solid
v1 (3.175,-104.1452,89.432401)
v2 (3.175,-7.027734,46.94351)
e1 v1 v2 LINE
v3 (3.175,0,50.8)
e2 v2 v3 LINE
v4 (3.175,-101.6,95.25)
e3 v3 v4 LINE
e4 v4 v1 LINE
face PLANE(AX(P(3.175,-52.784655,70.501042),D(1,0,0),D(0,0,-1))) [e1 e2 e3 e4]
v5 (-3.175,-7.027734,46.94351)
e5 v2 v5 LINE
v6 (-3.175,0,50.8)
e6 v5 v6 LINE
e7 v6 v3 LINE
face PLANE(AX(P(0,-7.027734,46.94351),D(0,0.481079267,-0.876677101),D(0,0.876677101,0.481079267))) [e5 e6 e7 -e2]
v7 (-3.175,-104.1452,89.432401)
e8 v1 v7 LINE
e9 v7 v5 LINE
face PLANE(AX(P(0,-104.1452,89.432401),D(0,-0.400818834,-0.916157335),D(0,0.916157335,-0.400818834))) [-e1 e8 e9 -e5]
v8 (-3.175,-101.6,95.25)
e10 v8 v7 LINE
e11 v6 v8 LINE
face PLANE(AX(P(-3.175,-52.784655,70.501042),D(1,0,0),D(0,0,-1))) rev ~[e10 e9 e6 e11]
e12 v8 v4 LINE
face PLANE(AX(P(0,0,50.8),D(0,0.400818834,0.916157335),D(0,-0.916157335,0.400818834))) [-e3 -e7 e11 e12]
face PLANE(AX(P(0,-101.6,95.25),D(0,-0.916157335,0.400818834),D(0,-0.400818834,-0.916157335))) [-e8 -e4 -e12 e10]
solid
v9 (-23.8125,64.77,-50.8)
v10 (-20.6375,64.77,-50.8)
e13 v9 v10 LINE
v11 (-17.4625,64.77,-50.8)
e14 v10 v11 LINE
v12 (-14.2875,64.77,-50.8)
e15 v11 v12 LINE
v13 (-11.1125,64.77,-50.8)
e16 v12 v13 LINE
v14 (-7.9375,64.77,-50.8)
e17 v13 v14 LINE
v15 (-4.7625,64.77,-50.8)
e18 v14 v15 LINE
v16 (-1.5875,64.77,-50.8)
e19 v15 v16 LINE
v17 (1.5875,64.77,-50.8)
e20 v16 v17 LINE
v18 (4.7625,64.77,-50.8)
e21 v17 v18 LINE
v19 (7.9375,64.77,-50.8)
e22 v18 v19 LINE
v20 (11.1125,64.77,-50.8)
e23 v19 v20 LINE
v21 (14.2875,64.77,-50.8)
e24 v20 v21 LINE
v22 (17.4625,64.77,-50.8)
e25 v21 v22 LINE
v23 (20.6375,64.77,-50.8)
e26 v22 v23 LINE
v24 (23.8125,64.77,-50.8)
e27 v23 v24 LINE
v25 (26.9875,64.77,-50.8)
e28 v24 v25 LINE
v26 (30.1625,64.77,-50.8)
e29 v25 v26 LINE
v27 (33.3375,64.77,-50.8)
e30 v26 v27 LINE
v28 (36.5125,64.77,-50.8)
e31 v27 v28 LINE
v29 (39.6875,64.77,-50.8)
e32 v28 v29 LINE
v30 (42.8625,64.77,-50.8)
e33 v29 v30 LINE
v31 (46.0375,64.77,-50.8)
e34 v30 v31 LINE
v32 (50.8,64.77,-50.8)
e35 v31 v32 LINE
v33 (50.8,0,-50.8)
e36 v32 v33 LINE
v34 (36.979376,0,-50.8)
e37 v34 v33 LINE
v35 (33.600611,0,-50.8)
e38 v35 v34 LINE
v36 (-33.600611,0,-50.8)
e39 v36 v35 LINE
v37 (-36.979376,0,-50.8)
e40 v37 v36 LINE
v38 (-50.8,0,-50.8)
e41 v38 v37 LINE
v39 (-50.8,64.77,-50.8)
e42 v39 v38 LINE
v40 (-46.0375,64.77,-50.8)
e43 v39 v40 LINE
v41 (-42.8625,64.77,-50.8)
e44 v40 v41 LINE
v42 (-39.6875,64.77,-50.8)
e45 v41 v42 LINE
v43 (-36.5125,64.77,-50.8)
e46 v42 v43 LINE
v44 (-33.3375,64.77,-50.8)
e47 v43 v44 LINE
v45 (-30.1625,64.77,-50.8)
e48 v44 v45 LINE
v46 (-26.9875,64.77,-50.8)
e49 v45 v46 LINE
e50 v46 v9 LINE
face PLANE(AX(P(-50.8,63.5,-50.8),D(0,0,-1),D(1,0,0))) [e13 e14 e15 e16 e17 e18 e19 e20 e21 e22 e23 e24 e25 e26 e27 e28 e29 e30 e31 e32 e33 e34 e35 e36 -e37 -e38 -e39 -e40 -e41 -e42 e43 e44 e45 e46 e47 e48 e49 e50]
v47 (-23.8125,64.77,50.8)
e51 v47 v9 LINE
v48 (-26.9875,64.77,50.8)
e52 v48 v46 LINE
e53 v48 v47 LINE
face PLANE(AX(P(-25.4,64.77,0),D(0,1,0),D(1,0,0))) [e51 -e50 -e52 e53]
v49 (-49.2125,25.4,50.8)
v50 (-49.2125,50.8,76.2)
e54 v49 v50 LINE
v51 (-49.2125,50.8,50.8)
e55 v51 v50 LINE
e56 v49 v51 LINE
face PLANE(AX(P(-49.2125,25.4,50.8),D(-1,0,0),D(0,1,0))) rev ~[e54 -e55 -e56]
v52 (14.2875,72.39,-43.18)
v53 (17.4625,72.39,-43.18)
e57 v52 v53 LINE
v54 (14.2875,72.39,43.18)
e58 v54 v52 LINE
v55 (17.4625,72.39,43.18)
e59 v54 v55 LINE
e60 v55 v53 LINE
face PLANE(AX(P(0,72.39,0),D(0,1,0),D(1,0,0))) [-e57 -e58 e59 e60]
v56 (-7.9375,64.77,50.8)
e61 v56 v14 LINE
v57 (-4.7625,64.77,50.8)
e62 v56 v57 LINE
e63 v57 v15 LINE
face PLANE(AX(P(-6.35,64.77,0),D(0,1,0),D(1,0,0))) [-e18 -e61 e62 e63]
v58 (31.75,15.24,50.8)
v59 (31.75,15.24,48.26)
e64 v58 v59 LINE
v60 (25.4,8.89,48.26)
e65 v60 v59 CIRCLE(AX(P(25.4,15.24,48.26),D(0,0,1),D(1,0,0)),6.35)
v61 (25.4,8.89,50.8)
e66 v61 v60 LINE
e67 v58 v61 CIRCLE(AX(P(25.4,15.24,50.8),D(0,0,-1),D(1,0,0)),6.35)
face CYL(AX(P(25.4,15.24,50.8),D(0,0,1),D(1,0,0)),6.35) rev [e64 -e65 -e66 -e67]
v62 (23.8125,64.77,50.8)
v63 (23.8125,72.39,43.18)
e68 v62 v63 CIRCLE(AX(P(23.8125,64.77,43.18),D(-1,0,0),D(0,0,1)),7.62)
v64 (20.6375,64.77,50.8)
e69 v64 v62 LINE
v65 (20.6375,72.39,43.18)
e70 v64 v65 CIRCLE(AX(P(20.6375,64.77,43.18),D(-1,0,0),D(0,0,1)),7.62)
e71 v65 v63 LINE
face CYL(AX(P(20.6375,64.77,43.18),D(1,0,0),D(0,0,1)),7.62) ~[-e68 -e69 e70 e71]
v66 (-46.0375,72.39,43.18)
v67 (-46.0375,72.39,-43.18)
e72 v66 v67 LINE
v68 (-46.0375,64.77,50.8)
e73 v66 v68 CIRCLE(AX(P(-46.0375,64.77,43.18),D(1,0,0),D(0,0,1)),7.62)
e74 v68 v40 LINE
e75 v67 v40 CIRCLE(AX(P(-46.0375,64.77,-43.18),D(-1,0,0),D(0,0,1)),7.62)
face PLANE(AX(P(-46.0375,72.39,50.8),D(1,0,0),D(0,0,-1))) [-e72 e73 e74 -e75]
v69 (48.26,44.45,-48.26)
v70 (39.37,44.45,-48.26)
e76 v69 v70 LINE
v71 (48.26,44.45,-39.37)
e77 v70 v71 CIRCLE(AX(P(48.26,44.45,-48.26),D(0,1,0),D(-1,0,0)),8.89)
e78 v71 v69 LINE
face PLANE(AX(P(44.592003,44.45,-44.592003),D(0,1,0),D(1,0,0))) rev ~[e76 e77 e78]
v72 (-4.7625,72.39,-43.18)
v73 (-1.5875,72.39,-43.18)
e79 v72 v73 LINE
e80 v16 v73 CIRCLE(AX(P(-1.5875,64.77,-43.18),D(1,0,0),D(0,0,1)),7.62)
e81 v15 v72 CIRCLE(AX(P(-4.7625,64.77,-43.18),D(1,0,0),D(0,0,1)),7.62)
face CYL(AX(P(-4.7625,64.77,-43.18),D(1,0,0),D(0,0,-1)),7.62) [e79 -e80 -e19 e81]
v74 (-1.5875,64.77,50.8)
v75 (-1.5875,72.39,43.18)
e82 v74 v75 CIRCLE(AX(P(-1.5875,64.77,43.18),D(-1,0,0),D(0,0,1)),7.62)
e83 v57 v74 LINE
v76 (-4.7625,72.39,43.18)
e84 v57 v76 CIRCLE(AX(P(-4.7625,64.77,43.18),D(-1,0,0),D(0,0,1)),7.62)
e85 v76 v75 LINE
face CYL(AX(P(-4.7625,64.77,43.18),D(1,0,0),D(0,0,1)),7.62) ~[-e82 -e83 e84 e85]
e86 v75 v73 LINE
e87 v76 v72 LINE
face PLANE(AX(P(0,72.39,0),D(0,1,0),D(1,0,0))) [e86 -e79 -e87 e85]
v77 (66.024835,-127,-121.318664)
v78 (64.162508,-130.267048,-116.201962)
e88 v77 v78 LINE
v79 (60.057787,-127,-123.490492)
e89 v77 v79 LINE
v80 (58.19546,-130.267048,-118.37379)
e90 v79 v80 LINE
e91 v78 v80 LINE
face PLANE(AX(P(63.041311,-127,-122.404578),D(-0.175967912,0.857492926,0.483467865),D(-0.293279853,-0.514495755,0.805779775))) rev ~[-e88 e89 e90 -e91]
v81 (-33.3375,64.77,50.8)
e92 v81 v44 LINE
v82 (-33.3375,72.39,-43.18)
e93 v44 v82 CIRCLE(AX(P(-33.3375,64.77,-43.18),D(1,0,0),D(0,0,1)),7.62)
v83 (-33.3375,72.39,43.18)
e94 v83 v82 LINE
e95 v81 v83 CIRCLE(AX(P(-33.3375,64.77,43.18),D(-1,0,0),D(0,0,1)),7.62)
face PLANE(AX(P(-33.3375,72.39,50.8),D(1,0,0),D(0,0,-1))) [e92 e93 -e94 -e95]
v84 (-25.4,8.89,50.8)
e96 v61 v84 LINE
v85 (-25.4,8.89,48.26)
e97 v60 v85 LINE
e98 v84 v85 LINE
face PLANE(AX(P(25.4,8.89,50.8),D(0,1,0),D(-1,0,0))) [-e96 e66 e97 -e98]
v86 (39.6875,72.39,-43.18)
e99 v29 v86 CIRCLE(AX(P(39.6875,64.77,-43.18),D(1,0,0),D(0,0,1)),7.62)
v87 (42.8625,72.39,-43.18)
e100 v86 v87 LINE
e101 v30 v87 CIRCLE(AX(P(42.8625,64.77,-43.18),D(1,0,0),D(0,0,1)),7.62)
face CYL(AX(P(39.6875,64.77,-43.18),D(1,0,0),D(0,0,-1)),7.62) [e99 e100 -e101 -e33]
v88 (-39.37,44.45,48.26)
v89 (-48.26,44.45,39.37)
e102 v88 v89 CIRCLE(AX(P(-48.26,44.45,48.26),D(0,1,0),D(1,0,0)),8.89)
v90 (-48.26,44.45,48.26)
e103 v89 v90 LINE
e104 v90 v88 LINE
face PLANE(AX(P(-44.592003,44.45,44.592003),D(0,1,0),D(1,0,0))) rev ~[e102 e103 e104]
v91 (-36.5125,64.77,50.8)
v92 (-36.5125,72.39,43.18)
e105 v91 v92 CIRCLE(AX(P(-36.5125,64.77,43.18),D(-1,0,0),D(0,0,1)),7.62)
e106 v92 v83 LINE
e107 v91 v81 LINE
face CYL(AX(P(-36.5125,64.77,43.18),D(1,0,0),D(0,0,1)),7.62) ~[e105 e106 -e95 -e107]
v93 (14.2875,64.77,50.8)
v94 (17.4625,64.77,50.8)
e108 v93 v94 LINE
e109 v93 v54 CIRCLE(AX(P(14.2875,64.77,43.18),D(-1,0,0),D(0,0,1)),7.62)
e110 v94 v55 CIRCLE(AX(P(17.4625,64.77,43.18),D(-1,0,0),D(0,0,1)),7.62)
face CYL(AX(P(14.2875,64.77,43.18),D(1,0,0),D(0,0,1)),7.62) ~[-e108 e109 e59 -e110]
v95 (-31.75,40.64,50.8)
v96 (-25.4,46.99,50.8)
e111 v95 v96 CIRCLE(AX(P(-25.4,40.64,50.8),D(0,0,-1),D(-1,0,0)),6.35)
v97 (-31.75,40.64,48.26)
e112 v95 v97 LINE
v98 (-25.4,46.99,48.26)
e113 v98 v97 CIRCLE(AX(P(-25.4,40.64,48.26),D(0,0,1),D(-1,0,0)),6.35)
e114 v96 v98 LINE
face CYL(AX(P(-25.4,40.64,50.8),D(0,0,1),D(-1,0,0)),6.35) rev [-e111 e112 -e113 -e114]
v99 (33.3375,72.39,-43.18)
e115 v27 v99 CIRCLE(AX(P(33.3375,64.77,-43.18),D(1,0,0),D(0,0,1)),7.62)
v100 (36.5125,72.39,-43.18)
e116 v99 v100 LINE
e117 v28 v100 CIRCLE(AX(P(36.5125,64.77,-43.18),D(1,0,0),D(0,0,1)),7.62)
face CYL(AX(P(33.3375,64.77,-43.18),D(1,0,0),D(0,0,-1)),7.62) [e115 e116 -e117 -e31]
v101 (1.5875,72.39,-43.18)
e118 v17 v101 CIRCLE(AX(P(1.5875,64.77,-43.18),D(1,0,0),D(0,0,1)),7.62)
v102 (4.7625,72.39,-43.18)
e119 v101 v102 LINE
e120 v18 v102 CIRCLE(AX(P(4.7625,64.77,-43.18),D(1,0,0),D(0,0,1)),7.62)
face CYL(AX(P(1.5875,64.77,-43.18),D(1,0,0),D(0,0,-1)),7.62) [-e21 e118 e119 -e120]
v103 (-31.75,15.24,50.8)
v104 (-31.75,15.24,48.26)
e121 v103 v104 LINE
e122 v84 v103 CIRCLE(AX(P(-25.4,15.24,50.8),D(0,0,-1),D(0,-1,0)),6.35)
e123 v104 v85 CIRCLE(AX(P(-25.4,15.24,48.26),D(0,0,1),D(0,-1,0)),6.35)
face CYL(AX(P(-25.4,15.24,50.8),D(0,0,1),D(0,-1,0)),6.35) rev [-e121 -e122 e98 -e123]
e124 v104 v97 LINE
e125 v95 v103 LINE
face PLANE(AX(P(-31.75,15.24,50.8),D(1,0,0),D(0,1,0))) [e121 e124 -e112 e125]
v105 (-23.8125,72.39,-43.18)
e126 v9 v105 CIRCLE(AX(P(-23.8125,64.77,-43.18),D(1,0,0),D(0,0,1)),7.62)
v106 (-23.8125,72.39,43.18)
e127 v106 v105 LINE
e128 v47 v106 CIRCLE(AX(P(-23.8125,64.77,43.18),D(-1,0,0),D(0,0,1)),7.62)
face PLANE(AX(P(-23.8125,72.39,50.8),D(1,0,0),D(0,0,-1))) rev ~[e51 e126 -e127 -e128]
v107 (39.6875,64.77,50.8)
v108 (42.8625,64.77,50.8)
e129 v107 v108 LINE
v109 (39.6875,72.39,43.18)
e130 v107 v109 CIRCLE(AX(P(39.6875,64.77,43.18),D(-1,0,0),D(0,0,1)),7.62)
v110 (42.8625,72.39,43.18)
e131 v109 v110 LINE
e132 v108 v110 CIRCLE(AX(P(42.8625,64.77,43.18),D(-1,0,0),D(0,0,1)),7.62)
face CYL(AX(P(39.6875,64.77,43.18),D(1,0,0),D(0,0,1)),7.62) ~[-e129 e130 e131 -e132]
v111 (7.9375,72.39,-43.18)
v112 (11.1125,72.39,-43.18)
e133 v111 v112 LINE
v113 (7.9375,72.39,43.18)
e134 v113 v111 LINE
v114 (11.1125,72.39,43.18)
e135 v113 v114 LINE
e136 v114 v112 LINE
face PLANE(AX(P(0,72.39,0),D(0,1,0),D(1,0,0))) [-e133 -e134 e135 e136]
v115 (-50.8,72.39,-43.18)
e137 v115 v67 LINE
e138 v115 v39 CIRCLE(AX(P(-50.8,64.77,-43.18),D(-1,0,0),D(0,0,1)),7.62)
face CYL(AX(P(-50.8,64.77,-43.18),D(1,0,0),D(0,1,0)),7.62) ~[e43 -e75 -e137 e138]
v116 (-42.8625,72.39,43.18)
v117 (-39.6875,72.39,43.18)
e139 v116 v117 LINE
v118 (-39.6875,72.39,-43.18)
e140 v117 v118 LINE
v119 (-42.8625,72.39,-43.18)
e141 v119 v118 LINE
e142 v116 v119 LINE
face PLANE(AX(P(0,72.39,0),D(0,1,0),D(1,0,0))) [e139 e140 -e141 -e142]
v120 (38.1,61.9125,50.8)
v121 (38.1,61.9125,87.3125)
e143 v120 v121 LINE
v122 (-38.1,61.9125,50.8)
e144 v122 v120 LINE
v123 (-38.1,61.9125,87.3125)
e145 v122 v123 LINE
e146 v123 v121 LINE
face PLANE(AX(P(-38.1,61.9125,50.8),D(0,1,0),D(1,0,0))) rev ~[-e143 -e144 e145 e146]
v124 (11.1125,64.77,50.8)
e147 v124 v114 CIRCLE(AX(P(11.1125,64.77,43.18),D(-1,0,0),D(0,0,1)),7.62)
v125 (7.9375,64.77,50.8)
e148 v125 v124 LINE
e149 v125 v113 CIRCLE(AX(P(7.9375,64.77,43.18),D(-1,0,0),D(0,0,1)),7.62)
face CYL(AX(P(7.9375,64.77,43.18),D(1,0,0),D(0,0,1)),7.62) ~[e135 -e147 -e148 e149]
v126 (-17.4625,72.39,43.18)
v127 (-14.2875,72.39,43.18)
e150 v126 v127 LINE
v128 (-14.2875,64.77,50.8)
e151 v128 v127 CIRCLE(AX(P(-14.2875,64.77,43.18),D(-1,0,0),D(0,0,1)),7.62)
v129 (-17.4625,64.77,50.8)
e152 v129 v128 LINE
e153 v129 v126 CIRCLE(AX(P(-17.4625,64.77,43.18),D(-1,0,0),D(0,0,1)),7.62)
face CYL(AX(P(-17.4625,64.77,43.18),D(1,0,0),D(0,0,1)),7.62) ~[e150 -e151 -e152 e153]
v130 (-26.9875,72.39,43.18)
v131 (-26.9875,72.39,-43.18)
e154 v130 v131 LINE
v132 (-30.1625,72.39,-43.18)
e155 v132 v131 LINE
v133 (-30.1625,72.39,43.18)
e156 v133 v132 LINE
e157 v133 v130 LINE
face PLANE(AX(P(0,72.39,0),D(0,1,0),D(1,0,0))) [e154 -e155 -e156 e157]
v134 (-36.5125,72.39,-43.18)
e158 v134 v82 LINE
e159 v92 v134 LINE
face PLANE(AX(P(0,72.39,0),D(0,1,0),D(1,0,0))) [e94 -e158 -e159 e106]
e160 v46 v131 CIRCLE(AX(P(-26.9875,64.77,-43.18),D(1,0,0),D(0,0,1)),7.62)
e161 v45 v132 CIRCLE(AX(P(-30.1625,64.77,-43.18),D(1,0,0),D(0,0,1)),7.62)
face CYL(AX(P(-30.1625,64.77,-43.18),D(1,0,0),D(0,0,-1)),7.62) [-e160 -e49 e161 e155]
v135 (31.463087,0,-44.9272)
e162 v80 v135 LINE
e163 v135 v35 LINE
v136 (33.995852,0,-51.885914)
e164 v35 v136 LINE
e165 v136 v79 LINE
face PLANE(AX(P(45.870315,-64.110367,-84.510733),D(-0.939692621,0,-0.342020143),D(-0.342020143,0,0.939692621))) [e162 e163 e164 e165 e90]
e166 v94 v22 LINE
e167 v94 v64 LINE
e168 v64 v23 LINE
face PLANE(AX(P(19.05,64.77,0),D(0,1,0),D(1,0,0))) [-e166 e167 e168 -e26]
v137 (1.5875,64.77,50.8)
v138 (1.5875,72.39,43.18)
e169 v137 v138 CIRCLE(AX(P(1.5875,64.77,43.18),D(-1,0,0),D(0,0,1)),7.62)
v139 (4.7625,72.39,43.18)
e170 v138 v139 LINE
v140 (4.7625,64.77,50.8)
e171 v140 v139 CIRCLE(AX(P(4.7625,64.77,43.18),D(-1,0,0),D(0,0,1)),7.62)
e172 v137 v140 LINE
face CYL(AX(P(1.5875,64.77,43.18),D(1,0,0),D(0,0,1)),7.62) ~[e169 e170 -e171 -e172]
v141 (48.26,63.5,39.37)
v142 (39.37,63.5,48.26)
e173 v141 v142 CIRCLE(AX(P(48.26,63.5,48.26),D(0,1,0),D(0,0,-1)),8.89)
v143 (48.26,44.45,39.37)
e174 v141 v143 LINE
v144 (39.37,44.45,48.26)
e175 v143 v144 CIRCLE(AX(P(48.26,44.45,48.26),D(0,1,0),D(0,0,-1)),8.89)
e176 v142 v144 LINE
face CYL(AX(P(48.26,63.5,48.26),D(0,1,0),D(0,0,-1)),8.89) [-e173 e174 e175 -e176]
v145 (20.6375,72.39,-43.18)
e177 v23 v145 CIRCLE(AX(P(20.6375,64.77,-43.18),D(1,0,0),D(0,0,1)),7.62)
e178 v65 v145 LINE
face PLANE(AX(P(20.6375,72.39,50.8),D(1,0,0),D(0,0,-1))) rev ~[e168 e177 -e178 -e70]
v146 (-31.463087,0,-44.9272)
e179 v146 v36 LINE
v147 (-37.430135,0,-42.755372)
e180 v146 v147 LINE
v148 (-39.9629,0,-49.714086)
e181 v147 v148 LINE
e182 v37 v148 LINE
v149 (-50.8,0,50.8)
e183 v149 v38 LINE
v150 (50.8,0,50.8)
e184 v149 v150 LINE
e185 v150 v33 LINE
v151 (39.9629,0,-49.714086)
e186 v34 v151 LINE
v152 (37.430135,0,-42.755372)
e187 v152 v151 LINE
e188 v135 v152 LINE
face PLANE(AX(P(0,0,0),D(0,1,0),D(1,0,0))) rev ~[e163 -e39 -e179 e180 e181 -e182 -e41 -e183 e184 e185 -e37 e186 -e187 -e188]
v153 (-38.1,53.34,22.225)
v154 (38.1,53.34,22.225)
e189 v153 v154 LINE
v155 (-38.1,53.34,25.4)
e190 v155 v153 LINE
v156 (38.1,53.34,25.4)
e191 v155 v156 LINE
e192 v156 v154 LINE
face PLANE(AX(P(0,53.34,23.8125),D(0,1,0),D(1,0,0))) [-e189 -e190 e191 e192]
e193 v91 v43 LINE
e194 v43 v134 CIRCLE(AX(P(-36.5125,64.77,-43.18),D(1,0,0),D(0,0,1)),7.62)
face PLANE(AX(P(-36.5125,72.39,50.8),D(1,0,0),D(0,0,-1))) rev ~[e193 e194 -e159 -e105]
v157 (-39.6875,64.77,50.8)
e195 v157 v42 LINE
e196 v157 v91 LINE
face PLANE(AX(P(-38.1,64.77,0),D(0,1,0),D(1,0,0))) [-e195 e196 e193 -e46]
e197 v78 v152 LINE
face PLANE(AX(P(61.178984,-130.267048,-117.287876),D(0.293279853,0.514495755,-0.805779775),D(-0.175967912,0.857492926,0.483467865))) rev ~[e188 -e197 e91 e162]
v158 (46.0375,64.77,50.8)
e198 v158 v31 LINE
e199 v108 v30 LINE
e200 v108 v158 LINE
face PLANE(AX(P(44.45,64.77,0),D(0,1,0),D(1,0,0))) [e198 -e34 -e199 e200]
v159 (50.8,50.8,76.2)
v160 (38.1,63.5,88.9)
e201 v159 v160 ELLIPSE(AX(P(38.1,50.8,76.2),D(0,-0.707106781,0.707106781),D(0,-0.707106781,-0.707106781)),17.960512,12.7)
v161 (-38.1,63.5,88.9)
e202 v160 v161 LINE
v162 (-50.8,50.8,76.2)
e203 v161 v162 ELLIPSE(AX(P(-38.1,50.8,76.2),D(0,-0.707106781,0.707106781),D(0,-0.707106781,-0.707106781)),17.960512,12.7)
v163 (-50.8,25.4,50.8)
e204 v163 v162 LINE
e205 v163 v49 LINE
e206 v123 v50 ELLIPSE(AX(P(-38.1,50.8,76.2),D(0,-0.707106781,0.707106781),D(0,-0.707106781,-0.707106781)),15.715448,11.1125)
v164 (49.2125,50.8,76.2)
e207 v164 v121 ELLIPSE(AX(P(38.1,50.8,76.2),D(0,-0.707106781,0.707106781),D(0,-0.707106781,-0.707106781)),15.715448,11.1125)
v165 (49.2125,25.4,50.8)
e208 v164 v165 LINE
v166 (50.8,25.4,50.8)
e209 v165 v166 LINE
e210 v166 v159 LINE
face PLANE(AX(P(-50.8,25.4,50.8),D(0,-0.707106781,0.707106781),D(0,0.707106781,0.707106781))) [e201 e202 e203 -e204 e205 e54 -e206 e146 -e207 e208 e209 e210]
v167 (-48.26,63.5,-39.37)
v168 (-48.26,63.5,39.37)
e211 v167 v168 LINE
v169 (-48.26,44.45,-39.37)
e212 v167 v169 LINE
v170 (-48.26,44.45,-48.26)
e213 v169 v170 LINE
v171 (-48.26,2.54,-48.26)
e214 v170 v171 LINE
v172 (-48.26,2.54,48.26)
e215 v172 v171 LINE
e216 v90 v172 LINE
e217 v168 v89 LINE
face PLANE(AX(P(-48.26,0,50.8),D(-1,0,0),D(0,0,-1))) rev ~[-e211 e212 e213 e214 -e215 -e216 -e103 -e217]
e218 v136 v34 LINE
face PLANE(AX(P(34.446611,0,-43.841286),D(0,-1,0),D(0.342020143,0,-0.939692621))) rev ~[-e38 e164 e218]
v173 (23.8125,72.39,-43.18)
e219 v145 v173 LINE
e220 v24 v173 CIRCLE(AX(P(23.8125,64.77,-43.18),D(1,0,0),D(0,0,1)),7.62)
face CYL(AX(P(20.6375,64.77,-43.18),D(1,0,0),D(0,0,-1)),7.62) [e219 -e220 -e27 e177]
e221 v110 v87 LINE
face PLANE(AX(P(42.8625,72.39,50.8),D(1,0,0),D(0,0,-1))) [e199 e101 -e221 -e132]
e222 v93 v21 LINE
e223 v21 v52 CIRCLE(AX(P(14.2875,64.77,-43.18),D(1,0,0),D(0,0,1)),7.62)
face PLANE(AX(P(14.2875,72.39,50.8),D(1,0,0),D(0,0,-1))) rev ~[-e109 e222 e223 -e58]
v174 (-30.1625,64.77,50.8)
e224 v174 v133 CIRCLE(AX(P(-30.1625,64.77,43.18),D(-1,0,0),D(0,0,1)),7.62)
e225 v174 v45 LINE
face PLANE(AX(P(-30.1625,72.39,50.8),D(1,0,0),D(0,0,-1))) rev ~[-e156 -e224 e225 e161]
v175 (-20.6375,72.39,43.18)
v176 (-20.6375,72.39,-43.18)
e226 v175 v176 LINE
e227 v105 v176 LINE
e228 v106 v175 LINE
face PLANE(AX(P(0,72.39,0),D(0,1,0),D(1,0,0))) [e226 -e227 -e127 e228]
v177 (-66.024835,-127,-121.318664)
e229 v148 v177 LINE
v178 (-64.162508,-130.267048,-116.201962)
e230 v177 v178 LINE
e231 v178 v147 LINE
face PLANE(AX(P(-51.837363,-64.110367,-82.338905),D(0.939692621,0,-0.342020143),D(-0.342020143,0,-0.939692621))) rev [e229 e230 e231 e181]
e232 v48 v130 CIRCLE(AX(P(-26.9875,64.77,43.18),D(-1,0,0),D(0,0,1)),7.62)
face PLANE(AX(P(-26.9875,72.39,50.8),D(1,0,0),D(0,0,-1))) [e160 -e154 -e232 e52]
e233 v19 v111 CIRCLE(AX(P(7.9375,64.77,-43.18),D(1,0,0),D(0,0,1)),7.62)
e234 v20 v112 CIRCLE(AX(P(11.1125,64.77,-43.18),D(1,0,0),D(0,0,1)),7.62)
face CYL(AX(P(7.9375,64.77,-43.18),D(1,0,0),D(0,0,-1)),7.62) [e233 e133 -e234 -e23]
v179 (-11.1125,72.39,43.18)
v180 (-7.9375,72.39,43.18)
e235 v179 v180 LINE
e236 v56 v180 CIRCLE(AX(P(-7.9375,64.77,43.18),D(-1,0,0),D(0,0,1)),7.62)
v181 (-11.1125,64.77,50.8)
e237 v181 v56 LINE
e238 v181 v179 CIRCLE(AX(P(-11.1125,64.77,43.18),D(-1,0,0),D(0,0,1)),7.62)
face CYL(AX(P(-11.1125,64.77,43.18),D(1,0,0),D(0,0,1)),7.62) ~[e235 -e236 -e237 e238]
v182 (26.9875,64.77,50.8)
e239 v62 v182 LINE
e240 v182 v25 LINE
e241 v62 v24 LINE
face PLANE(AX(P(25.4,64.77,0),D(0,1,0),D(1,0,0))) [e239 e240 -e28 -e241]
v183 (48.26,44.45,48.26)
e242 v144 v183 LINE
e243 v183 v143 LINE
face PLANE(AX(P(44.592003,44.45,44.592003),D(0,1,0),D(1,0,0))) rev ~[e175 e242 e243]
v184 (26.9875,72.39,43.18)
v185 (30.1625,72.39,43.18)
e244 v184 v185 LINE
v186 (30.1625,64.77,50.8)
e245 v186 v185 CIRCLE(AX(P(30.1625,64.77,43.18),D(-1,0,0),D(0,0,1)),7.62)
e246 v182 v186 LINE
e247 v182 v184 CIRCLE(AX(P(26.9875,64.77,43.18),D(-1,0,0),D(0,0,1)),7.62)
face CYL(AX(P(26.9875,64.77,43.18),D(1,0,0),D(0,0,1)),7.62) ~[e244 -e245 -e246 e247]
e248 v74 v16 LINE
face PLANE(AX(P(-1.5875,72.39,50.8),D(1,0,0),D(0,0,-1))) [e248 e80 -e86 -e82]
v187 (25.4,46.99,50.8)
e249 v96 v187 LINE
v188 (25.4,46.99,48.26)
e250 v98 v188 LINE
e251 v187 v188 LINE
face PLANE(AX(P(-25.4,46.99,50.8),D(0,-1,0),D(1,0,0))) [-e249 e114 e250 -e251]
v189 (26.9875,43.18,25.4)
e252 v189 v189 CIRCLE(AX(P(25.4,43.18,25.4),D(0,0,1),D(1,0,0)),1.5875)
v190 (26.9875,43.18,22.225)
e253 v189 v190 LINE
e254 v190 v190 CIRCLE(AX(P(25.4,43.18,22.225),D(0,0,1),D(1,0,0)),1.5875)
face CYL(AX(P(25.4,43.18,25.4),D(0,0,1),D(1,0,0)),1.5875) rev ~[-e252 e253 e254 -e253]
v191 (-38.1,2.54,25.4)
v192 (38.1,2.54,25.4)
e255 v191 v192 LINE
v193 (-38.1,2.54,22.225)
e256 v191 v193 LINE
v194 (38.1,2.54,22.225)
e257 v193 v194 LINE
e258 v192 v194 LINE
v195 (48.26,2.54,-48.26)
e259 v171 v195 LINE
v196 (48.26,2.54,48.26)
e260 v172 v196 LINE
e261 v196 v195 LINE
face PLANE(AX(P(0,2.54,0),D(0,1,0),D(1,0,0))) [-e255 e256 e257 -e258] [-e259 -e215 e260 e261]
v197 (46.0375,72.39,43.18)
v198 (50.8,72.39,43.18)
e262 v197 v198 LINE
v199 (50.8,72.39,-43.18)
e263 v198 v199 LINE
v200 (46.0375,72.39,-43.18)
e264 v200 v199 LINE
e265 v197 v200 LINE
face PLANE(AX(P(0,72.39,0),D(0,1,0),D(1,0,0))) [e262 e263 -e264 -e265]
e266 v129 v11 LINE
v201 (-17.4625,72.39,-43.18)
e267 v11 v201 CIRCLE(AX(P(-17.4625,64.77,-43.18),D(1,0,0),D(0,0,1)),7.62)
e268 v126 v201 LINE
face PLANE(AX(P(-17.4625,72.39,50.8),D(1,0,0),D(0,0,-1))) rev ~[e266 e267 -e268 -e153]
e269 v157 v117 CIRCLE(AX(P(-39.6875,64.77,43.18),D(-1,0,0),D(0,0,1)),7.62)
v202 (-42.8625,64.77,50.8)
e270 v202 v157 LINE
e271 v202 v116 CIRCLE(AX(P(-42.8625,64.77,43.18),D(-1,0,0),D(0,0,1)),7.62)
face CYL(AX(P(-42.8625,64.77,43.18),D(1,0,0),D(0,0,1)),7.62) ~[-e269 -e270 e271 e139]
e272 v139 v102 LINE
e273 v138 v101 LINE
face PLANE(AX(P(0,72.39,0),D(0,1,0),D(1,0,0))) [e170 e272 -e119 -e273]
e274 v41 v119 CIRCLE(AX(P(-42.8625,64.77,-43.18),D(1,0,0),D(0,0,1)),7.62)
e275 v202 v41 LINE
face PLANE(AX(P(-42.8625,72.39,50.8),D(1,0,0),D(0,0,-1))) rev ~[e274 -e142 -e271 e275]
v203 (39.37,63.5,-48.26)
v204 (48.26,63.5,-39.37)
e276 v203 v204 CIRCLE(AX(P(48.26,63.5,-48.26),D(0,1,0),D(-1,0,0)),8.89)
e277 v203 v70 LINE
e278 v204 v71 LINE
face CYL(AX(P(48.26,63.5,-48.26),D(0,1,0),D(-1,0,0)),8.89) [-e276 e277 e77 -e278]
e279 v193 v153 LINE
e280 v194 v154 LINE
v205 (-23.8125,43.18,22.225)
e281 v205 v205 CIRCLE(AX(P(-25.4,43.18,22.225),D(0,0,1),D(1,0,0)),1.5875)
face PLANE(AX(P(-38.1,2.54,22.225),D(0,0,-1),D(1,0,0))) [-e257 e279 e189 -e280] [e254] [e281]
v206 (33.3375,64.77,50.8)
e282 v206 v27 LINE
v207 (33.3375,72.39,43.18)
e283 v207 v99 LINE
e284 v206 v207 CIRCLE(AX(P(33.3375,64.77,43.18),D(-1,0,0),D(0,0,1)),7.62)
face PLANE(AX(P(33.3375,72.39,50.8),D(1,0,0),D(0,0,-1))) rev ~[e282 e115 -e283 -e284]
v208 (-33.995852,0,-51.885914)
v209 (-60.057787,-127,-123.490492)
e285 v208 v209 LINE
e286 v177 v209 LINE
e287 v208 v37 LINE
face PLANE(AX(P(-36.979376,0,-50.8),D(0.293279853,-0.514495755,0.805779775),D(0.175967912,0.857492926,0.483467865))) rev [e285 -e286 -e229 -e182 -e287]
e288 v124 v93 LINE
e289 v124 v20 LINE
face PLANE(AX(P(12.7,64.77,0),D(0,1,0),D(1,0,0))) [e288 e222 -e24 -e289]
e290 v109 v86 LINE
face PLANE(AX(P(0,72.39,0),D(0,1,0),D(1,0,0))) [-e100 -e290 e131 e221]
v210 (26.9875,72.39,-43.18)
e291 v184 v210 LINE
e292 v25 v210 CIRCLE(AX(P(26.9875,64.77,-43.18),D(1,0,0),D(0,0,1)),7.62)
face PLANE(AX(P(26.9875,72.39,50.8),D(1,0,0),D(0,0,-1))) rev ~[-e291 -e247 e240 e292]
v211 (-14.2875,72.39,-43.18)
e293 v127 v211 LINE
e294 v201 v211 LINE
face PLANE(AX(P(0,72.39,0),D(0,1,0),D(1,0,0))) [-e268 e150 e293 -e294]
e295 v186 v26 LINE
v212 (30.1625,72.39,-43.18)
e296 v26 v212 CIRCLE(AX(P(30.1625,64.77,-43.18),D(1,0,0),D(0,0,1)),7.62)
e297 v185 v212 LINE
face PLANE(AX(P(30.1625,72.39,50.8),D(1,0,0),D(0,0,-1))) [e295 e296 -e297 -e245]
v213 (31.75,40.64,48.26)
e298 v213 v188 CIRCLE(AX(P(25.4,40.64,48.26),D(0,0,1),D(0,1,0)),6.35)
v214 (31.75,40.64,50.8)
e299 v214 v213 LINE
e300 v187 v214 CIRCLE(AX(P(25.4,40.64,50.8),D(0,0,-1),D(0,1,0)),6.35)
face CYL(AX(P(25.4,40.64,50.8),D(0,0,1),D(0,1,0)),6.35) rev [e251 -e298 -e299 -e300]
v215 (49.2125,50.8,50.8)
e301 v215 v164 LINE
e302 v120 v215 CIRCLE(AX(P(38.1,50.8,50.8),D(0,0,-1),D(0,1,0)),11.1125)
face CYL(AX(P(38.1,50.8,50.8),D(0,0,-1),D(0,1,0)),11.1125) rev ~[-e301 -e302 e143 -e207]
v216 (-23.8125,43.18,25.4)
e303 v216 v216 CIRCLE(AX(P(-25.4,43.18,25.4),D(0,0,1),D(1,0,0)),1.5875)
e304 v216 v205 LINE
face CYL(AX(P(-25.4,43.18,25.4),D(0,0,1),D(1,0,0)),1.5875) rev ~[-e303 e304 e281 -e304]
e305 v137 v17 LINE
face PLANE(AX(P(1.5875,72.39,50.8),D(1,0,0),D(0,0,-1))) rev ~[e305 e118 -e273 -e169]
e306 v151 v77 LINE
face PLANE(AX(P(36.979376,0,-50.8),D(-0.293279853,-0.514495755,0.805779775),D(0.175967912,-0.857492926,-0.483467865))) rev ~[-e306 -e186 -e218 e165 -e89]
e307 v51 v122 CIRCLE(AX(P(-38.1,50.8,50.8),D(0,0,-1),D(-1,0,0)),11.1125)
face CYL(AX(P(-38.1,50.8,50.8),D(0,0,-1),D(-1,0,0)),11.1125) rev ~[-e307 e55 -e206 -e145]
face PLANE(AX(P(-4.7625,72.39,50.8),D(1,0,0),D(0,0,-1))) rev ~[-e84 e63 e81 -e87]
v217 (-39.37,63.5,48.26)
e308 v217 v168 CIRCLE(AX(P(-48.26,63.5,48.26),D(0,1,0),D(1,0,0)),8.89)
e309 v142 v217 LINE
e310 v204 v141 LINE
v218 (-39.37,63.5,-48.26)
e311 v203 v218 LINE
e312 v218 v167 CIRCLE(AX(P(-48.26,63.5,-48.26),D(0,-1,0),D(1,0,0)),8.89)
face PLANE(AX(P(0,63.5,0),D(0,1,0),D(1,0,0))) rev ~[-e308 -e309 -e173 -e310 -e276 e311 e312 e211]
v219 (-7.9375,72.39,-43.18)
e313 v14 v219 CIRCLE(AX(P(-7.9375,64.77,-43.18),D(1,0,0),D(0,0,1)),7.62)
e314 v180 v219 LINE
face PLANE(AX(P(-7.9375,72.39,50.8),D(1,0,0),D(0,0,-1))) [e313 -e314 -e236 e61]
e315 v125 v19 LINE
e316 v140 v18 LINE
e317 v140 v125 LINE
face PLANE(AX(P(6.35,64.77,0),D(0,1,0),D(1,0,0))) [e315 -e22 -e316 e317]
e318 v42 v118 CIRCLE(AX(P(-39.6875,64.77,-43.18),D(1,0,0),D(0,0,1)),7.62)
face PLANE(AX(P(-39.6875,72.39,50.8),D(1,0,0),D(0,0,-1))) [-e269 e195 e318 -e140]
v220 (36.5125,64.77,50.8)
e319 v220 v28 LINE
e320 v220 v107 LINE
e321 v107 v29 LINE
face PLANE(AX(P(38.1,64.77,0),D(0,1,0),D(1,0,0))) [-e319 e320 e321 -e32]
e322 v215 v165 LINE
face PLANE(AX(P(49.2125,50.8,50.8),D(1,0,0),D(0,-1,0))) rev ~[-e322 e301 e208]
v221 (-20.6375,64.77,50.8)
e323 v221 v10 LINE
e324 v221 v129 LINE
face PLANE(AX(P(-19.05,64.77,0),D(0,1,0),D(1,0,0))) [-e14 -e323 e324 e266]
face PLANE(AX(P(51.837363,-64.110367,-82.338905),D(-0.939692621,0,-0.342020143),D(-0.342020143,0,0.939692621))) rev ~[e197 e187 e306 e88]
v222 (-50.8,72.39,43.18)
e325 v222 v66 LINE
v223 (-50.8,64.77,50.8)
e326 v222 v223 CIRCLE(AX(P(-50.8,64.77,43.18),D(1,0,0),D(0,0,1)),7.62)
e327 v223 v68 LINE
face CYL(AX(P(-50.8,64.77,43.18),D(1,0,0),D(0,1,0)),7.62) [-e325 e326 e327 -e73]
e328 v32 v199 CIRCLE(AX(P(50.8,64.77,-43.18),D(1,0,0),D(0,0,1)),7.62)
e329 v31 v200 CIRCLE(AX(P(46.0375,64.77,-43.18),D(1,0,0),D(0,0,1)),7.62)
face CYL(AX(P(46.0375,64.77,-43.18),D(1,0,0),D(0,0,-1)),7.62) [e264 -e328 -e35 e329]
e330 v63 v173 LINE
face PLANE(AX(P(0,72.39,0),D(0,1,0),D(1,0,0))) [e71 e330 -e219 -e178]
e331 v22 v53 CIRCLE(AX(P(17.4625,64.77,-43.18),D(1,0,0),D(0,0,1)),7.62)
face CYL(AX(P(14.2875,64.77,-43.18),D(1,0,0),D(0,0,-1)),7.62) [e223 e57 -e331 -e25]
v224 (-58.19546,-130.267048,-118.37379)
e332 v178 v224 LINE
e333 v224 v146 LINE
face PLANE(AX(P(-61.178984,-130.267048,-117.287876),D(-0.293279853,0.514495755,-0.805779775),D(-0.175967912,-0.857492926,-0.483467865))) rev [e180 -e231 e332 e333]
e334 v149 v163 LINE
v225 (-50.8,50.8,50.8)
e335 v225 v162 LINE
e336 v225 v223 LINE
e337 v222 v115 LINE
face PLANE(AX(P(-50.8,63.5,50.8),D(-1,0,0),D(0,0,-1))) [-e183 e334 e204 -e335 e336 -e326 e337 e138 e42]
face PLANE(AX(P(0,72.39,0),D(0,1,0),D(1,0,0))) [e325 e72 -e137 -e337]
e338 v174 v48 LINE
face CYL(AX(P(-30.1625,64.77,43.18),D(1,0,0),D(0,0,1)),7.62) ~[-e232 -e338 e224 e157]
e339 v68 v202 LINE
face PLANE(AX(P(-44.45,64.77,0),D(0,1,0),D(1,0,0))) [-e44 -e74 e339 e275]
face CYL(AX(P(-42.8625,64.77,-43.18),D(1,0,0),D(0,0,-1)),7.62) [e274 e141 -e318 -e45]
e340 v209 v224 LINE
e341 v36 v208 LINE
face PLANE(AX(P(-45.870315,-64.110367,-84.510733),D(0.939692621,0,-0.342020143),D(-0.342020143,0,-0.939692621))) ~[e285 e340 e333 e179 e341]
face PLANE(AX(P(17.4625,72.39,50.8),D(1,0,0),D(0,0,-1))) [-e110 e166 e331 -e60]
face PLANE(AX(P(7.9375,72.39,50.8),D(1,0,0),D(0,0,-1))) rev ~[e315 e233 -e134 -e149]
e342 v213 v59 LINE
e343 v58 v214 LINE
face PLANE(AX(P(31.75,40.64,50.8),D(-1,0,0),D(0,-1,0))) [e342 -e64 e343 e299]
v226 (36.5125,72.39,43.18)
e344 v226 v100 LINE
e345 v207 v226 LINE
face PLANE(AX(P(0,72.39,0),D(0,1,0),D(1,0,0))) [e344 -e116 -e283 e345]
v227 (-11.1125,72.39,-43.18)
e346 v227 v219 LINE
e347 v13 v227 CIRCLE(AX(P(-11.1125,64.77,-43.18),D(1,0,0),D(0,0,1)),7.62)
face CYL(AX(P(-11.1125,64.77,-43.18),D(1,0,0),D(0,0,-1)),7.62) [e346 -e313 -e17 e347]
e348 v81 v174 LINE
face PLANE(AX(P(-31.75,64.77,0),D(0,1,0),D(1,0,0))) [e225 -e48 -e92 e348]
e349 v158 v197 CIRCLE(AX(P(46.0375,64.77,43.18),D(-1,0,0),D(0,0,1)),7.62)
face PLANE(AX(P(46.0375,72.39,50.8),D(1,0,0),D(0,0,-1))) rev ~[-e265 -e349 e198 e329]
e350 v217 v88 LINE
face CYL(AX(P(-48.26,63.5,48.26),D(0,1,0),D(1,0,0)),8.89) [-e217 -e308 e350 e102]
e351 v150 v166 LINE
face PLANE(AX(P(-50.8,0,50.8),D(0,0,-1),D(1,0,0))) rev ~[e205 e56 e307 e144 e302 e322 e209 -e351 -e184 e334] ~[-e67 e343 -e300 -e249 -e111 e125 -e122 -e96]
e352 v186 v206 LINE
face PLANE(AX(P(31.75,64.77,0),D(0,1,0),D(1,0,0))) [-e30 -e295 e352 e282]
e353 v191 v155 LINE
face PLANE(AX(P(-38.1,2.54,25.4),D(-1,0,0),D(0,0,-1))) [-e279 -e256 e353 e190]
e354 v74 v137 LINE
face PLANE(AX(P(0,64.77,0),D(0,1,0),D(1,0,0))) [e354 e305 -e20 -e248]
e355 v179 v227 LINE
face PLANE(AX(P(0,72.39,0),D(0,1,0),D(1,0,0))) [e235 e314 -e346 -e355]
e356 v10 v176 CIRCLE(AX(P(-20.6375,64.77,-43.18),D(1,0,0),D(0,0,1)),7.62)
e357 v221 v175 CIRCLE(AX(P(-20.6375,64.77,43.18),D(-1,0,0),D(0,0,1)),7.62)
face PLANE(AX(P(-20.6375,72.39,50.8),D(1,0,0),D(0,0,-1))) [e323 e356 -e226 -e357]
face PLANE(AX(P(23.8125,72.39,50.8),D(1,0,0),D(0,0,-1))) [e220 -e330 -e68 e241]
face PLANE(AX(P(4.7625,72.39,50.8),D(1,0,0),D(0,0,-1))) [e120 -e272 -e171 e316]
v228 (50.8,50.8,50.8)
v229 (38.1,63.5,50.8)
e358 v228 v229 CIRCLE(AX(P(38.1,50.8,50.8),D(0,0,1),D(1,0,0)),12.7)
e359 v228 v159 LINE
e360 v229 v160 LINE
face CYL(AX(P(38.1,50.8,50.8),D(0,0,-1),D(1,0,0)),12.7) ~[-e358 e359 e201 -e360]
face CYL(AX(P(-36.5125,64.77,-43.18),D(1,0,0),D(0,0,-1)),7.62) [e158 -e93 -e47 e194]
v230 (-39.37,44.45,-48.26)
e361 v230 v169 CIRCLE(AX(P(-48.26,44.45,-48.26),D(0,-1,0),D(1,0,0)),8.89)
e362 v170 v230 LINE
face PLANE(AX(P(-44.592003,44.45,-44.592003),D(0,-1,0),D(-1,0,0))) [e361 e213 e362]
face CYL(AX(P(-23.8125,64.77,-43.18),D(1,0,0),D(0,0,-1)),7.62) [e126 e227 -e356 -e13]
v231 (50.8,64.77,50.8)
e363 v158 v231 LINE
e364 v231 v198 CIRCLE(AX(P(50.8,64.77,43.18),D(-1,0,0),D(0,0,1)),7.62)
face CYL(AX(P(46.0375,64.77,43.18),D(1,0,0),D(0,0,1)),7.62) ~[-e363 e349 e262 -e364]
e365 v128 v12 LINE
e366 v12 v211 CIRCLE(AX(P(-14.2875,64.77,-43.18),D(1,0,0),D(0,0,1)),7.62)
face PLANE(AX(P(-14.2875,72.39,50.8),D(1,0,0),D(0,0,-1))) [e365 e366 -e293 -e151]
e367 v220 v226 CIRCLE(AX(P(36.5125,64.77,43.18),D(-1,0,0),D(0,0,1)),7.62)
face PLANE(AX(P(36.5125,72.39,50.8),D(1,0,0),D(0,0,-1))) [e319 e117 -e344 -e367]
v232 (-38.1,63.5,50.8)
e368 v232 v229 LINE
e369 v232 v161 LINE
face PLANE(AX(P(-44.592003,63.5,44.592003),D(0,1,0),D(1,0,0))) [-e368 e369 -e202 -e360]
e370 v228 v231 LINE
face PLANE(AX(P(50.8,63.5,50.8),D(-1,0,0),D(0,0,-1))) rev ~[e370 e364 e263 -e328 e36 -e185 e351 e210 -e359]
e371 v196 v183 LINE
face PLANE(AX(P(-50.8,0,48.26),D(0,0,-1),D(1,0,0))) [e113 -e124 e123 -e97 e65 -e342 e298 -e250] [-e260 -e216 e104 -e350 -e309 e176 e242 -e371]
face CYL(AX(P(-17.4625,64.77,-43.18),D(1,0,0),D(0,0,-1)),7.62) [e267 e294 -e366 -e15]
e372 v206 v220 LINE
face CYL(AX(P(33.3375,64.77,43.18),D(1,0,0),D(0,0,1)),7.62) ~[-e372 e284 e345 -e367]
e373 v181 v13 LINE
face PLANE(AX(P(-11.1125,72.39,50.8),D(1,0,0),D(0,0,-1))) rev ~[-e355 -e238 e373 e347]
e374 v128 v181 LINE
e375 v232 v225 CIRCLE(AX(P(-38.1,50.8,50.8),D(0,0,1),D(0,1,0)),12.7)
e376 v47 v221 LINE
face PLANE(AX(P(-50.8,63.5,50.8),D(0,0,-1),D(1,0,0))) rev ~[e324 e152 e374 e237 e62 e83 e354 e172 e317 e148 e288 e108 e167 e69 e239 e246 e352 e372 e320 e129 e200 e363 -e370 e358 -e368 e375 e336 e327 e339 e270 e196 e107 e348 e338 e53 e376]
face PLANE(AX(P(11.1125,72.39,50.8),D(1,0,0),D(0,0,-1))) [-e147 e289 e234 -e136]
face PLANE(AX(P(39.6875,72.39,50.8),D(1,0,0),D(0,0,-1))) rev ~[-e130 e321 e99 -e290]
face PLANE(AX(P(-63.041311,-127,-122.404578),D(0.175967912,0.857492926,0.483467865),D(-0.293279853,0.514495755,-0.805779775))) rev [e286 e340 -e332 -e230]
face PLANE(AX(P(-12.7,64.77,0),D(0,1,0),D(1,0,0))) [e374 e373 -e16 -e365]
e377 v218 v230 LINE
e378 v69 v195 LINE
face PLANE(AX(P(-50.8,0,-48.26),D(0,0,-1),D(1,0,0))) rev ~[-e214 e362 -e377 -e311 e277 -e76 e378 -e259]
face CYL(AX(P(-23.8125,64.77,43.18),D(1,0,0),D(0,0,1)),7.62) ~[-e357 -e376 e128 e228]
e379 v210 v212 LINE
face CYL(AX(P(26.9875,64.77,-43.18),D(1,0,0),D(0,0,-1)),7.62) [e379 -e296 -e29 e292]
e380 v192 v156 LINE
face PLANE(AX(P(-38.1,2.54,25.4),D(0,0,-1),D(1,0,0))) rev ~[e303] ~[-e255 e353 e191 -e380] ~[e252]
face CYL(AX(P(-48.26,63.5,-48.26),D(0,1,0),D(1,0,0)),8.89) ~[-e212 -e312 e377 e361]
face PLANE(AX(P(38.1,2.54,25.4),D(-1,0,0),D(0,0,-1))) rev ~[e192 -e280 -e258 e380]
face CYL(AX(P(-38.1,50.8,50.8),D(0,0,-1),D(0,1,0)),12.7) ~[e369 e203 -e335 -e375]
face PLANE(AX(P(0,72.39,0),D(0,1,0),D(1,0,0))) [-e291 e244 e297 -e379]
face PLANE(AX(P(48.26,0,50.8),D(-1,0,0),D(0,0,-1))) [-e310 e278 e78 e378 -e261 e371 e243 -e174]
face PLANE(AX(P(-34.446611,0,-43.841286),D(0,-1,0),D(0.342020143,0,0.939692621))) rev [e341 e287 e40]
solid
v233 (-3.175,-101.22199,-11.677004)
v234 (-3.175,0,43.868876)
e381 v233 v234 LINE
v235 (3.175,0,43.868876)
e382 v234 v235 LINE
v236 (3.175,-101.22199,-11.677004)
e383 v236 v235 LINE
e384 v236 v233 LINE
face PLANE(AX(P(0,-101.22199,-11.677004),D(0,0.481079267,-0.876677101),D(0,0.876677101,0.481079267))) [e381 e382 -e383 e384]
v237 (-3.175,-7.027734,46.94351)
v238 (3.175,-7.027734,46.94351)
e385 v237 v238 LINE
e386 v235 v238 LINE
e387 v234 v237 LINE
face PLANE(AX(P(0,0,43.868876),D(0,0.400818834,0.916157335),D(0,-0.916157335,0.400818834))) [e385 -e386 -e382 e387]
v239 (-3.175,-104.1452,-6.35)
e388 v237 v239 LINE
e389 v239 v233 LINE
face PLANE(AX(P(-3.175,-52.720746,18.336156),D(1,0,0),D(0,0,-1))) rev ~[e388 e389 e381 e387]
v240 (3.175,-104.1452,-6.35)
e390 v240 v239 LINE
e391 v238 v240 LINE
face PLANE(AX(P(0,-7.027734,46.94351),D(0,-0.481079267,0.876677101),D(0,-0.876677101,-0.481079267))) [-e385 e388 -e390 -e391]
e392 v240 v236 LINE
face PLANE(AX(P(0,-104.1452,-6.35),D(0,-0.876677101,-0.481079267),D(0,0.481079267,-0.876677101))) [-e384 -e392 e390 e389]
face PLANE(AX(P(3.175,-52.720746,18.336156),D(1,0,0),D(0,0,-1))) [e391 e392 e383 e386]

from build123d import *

# Parameters (mm, degrees)
SKETCH1_W             = 101.6
SKETCH1_H             = 101.6
BOSS_EXTRUDE1_DEPTH   = 63.5
SHELL1_T              = -2.54
CUT_EXTRUDE2_REACH    = 103.6
SKETCH4_W             = 76.2
SKETCH4_H             = 3.175
BOSS_EXTRUDE2_DEPTH   = 50.8
CUT_EXTRUDE3_REACH    = 78.2
SKETCH5_R             = 1.5875
BOSS_EXTRUDE3_DEPTH   = 19.05
BOSS_EXTRUDE4_DEPTH   = 38.1
CUT_EXTRUDE4_DEPTH    = 102.6
BOSS_EXTRUDE5_DEPTH   = 3.175
BOSS_EXTRUDE5_2_DEPTH = 3.175
BOSS_EXTRUDE6_DEPTH   = 3.175
SKETCH12_W            = 101.6
SKETCH12_H            = 101.6
BOSS_EXTRUDE7_DEPTH   = 8.89
SKETCH13_W            = 3.175
SKETCH13_H            = 101.6
CUT_EXTRUDE5_DEPTH    = 7.62
FILLET1_R             = 7.62


with BuildPart() as part:
    # Sketch1 → Boss-Extrude1 (new body)
    with BuildSketch(Plane(origin=(0, 0, 0), x_dir=(1, 0, 0), z_dir=(0, 1, 0))):
        Rectangle(SKETCH1_W, SKETCH1_H)
    extrude(amount=BOSS_EXTRUDE1_DEPTH)

    # Shell1
    shell1_openings = [part.faces().sort_by_distance(p)[0] for p in [
        (0, 63.5, 0),
    ]]
    offset(amount=SHELL1_T, openings=shell1_openings, kind=Kind.INTERSECTION)

    # Sketch3 → Cut-Extrude2 (cut, up to next)
    with BuildSketch(Plane.XY.offset(50.8), mode=Mode.PRIVATE) as cut_extrude2_sk1:
        with BuildLine():
            Line((-25.4, 46.99), (25.4, 46.99))
            ThreePointArc((25.4, 46.99), (29.890128061, 45.130128061), (31.75, 40.64))
            Line((31.75, 40.64), (31.75, 15.24))
            ThreePointArc((31.75, 15.24), (29.890128061, 10.749871939), (25.4, 8.89))
            Line((25.4, 8.89), (-25.4, 8.89))
            ThreePointArc((-25.4, 8.89), (-29.890128061, 10.749871939), (-31.75, 15.24))
            Line((-31.75, 15.24), (-31.75, 40.64))
            ThreePointArc((-31.75, 40.64), (-29.890128061, 45.130128061), (-25.4, 46.99))
        make_face()
    cut_extrude2_tool1 = extrude(cut_extrude2_sk1.sketch, amount=-CUT_EXTRUDE2_REACH, mode=Mode.PRIVATE) & part.part
    add(cut_extrude2_tool1.solids().sort_by_distance((0, 27.94, 50.8))[0], mode=Mode.SUBTRACT)

    # Sketch4 → Boss-Extrude2 (add)
    with BuildSketch(Plane(origin=(0, 2.54, 0), x_dir=(1, 0, 0), z_dir=(0, 1, 0))):
        with Locations((0, -23.8125)):
            Rectangle(SKETCH4_W, SKETCH4_H)
    extrude(amount=BOSS_EXTRUDE2_DEPTH)

    # Sketch5 → Cut-Extrude3 (cut, up to next)
    with BuildSketch(Plane.XY.offset(25.4), mode=Mode.PRIVATE) as cut_extrude3_sk1:
        with Locations((-25.4, 43.18)):
            Circle(SKETCH5_R)
    cut_extrude3_tool1 = extrude(cut_extrude3_sk1.sketch, amount=-CUT_EXTRUDE3_REACH, mode=Mode.PRIVATE) & part.part
    add(cut_extrude3_tool1.solids().sort_by_distance((-25.4, 43.18, 25.4))[0], mode=Mode.SUBTRACT)
    # Sketch5 → Cut-Extrude3 (cut, up to next)
    with BuildSketch(Plane.XY.offset(25.4), mode=Mode.PRIVATE) as cut_extrude3_sk2:
        with Locations((25.4, 43.18)):
            Circle(SKETCH5_R)
    cut_extrude3_tool2 = extrude(cut_extrude3_sk2.sketch, amount=-CUT_EXTRUDE3_REACH, mode=Mode.PRIVATE) & part.part
    add(cut_extrude3_tool2.solids().sort_by_distance((25.4, 43.18, 25.4))[0], mode=Mode.SUBTRACT)

    # Sketch6 → Boss-Extrude3 (add)
    with BuildSketch(Plane(origin=(0, 63.5, 0), x_dir=(1, 0, 0), z_dir=(0, 1, 0))):
        with BuildLine():
            Line((-48.26, -39.37), (-48.26, -48.26))
            Line((-48.26, -48.26), (-39.37, -48.26))
            ThreePointArc((-39.37, -48.26), (-41.973820715, -41.973820715), (-48.26, -39.37))
        make_face()
        with BuildLine():
            Line((39.37, -48.26), (48.26, -48.26))
            Line((48.26, -48.26), (48.26, -39.37))
            ThreePointArc((48.26, -39.37), (41.973820715, -41.973820715), (39.37, -48.26))
        make_face()
        with BuildLine():
            Line((48.26, 39.37), (48.26, 48.26))
            Line((48.26, 48.26), (39.37, 48.26))
            ThreePointArc((39.37, 48.26), (41.973820715, 41.973820715), (48.26, 39.37))
        make_face()
        with BuildLine():
            Line((-48.26, 39.37), (-48.26, 48.26))
            Line((-48.26, 48.26), (-39.37, 48.26))
            ThreePointArc((-39.37, 48.26), (-41.973820715, 41.973820715), (-48.26, 39.37))
        make_face()
    extrude(amount=-BOSS_EXTRUDE3_DEPTH)

    # Sketch7 → Boss-Extrude4 (add)
    with BuildSketch(Plane.XY.offset(50.8)):
        with BuildLine():
            Line((38.1, 63.5), (-38.1, 63.5))
            ThreePointArc((-38.1, 63.5), (-47.080256121, 59.780256121), (-50.8, 50.8))
            Line((-50.8, 50.8), (-50.8, 25.4))
            Line((-50.8, 25.4), (-49.2125, 25.4))
            Line((-49.2125, 25.4), (-49.2125, 50.8))
            ThreePointArc((-49.2125, 50.8), (-45.957724106, 58.657724106), (-38.1, 61.9125))
            Line((-38.1, 61.9125), (38.1, 61.9125))
            ThreePointArc((38.1, 61.9125), (45.957724106, 58.657724106), (49.2125, 50.8))
            Line((49.2125, 50.8), (49.2125, 25.4))
            Line((49.2125, 25.4), (50.8, 25.4))
            Line((50.8, 25.4), (50.8, 50.8))
            ThreePointArc((50.8, 50.8), (47.080256121, 59.780256121), (38.1, 63.5))
        make_face()
    extrude(amount=BOSS_EXTRUDE4_DEPTH)

    # Sketch8 → Cut-Extrude4 (cut, through all)
    with BuildSketch(Plane.ZY.offset(50.8)):
        Polygon((50.8, 25.4), (88.9, 63.5), (88.9, 25.4), align=None)
    extrude(amount=-CUT_EXTRUDE4_DEPTH, mode=Mode.SUBTRACT)

    # Sketch11 → Boss-Extrude6 (add, symmetric)
    with BuildSketch(Plane(origin=(16.326805286, 0, 5.942471145), x_dir=(0.342020143, 0, -0.939692621), z_dir=(0.939692621, 0, 0.342020143))):
        Polygon((60.384076548, 0), (136.584076548, -127), (131.138996469, -130.267048047), (52.978767641, 0), align=None)
    boss_extrude6 = extrude(amount=BOSS_EXTRUDE6_DEPTH, both=True)

    # Mirror1: Boss-Extrude6 across plane
    add(boss_extrude6.mirror(Plane(origin=(0, 0, 0), x_dir=(0, 0, 1), z_dir=(1, 0, 0))))

    # Sketch12 → Boss-Extrude7 (add)
    with BuildSketch(Plane(origin=(0, 63.5, 0), x_dir=(1, 0, 0), z_dir=(0, 1, 0))):
        Rectangle(SKETCH12_W, SKETCH12_H)
    extrude(amount=BOSS_EXTRUDE7_DEPTH)

    # Sketch13 → Cut-Extrude5 (cut)
    with BuildSketch(Plane(origin=(0, 72.39, 0), x_dir=(1, 0, 0), z_dir=(0, 1, 0))):
        Rectangle(SKETCH13_W, SKETCH13_H)
        with Locations((-6.35, 0)):
            Rectangle(SKETCH13_W, SKETCH13_H)
        with Locations((-12.7, 0)):
            Rectangle(SKETCH13_W, SKETCH13_H)
        with Locations((-19.05, 0)):
            Rectangle(SKETCH13_W, SKETCH13_H)
        with Locations((-25.4, 0)):
            Rectangle(SKETCH13_W, SKETCH13_H)
        with Locations((-31.75, 0)):
            Rectangle(SKETCH13_W, SKETCH13_H)
        with Locations((-38.1, 0)):
            Rectangle(SKETCH13_W, SKETCH13_H)
        with Locations((-44.45, 0)):
            Rectangle(SKETCH13_W, SKETCH13_H)
        with Locations((6.35, 0)):
            Rectangle(SKETCH13_W, SKETCH13_H)
        with Locations((12.7, 0)):
            Rectangle(SKETCH13_W, SKETCH13_H)
        with Locations((19.05, 0)):
            Rectangle(SKETCH13_W, SKETCH13_H)
        with Locations((25.4, 0)):
            Rectangle(SKETCH13_W, SKETCH13_H)
        with Locations((31.75, 0)):
            Rectangle(SKETCH13_W, SKETCH13_H)
        with Locations((38.1, 0)):
            Rectangle(SKETCH13_W, SKETCH13_H)
        with Locations((44.45, 0)):
            Rectangle(SKETCH13_W, SKETCH13_H)
    extrude(amount=-CUT_EXTRUDE5_DEPTH, mode=Mode.SUBTRACT)

    # Fillet1
    fillet1_edges = [part.edges().sort_by_distance(p)[0] for p in [
        (48.41875, 72.39, -50.8),
        (41.275, 72.39, -50.8),
        (34.925, 72.39, -50.8),
        (28.575, 72.39, -50.8),
        (22.225, 72.39, -50.8),
        (15.875, 72.39, -50.8),
        (9.525, 72.39, -50.8),
        (3.175, 72.39, -50.8),
        (-3.175, 72.39, -50.8),
        (-9.525, 72.39, -50.8),
        (-15.875, 72.39, -50.8),
        (-22.225, 72.39, -50.8),
        (-28.575, 72.39, -50.8),
        (-34.925, 72.39, -50.8),
        (-41.275, 72.39, -50.8),
        (-48.41875, 72.39, -50.8),
        (48.41875, 72.39, 50.8),
        (41.275, 72.39, 50.8),
        (34.925, 72.39, 50.8),
        (28.575, 72.39, 50.8),
        (22.225, 72.39, 50.8),
        (15.875, 72.39, 50.8),
        (9.525, 72.39, 50.8),
        (3.175, 72.39, 50.8),
        (-3.175, 72.39, 50.8),
        (-9.525, 72.39, 50.8),
        (-15.875, 72.39, 50.8),
        (-22.225, 72.39, 50.8),
        (-28.575, 72.39, 50.8),
        (-34.925, 72.39, 50.8),
        (-41.275, 72.39, 50.8),
        (-48.41875, 72.39, 50.8),
    ]]
    fillet(fillet1_edges, radius=FILLET1_R)


with BuildPart() as body_2:
    # Sketch9 → Boss-Extrude5 (new body, symmetric)
    with BuildSketch(Plane(origin=(0, 0, 0), x_dir=(0, 0, -1), z_dir=(1, 0, 0))):
        Polygon((11.677003567, -101.221989933), (-43.8688761, 0), (-46.943509518, -7.027733526), (6.35, -104.145199596), align=None)
    extrude(amount=BOSS_EXTRUDE5_DEPTH, both=True)


with BuildPart() as body_3:
    # Sketch9 → Boss-Extrude5 2 (new body, symmetric)
    with BuildSketch(Plane(origin=(0, 0, 0), x_dir=(0, 0, -1), z_dir=(1, 0, 0))):
        Polygon((-46.943509518, -7.027733526), (-50.8, 0), (-95.25, -101.6), (-89.432400923, -104.145199596), align=None)
    extrude(amount=BOSS_EXTRUDE5_2_DEPTH, both=True)


solid = Compound([part.part, body_2.part, body_3.part])
